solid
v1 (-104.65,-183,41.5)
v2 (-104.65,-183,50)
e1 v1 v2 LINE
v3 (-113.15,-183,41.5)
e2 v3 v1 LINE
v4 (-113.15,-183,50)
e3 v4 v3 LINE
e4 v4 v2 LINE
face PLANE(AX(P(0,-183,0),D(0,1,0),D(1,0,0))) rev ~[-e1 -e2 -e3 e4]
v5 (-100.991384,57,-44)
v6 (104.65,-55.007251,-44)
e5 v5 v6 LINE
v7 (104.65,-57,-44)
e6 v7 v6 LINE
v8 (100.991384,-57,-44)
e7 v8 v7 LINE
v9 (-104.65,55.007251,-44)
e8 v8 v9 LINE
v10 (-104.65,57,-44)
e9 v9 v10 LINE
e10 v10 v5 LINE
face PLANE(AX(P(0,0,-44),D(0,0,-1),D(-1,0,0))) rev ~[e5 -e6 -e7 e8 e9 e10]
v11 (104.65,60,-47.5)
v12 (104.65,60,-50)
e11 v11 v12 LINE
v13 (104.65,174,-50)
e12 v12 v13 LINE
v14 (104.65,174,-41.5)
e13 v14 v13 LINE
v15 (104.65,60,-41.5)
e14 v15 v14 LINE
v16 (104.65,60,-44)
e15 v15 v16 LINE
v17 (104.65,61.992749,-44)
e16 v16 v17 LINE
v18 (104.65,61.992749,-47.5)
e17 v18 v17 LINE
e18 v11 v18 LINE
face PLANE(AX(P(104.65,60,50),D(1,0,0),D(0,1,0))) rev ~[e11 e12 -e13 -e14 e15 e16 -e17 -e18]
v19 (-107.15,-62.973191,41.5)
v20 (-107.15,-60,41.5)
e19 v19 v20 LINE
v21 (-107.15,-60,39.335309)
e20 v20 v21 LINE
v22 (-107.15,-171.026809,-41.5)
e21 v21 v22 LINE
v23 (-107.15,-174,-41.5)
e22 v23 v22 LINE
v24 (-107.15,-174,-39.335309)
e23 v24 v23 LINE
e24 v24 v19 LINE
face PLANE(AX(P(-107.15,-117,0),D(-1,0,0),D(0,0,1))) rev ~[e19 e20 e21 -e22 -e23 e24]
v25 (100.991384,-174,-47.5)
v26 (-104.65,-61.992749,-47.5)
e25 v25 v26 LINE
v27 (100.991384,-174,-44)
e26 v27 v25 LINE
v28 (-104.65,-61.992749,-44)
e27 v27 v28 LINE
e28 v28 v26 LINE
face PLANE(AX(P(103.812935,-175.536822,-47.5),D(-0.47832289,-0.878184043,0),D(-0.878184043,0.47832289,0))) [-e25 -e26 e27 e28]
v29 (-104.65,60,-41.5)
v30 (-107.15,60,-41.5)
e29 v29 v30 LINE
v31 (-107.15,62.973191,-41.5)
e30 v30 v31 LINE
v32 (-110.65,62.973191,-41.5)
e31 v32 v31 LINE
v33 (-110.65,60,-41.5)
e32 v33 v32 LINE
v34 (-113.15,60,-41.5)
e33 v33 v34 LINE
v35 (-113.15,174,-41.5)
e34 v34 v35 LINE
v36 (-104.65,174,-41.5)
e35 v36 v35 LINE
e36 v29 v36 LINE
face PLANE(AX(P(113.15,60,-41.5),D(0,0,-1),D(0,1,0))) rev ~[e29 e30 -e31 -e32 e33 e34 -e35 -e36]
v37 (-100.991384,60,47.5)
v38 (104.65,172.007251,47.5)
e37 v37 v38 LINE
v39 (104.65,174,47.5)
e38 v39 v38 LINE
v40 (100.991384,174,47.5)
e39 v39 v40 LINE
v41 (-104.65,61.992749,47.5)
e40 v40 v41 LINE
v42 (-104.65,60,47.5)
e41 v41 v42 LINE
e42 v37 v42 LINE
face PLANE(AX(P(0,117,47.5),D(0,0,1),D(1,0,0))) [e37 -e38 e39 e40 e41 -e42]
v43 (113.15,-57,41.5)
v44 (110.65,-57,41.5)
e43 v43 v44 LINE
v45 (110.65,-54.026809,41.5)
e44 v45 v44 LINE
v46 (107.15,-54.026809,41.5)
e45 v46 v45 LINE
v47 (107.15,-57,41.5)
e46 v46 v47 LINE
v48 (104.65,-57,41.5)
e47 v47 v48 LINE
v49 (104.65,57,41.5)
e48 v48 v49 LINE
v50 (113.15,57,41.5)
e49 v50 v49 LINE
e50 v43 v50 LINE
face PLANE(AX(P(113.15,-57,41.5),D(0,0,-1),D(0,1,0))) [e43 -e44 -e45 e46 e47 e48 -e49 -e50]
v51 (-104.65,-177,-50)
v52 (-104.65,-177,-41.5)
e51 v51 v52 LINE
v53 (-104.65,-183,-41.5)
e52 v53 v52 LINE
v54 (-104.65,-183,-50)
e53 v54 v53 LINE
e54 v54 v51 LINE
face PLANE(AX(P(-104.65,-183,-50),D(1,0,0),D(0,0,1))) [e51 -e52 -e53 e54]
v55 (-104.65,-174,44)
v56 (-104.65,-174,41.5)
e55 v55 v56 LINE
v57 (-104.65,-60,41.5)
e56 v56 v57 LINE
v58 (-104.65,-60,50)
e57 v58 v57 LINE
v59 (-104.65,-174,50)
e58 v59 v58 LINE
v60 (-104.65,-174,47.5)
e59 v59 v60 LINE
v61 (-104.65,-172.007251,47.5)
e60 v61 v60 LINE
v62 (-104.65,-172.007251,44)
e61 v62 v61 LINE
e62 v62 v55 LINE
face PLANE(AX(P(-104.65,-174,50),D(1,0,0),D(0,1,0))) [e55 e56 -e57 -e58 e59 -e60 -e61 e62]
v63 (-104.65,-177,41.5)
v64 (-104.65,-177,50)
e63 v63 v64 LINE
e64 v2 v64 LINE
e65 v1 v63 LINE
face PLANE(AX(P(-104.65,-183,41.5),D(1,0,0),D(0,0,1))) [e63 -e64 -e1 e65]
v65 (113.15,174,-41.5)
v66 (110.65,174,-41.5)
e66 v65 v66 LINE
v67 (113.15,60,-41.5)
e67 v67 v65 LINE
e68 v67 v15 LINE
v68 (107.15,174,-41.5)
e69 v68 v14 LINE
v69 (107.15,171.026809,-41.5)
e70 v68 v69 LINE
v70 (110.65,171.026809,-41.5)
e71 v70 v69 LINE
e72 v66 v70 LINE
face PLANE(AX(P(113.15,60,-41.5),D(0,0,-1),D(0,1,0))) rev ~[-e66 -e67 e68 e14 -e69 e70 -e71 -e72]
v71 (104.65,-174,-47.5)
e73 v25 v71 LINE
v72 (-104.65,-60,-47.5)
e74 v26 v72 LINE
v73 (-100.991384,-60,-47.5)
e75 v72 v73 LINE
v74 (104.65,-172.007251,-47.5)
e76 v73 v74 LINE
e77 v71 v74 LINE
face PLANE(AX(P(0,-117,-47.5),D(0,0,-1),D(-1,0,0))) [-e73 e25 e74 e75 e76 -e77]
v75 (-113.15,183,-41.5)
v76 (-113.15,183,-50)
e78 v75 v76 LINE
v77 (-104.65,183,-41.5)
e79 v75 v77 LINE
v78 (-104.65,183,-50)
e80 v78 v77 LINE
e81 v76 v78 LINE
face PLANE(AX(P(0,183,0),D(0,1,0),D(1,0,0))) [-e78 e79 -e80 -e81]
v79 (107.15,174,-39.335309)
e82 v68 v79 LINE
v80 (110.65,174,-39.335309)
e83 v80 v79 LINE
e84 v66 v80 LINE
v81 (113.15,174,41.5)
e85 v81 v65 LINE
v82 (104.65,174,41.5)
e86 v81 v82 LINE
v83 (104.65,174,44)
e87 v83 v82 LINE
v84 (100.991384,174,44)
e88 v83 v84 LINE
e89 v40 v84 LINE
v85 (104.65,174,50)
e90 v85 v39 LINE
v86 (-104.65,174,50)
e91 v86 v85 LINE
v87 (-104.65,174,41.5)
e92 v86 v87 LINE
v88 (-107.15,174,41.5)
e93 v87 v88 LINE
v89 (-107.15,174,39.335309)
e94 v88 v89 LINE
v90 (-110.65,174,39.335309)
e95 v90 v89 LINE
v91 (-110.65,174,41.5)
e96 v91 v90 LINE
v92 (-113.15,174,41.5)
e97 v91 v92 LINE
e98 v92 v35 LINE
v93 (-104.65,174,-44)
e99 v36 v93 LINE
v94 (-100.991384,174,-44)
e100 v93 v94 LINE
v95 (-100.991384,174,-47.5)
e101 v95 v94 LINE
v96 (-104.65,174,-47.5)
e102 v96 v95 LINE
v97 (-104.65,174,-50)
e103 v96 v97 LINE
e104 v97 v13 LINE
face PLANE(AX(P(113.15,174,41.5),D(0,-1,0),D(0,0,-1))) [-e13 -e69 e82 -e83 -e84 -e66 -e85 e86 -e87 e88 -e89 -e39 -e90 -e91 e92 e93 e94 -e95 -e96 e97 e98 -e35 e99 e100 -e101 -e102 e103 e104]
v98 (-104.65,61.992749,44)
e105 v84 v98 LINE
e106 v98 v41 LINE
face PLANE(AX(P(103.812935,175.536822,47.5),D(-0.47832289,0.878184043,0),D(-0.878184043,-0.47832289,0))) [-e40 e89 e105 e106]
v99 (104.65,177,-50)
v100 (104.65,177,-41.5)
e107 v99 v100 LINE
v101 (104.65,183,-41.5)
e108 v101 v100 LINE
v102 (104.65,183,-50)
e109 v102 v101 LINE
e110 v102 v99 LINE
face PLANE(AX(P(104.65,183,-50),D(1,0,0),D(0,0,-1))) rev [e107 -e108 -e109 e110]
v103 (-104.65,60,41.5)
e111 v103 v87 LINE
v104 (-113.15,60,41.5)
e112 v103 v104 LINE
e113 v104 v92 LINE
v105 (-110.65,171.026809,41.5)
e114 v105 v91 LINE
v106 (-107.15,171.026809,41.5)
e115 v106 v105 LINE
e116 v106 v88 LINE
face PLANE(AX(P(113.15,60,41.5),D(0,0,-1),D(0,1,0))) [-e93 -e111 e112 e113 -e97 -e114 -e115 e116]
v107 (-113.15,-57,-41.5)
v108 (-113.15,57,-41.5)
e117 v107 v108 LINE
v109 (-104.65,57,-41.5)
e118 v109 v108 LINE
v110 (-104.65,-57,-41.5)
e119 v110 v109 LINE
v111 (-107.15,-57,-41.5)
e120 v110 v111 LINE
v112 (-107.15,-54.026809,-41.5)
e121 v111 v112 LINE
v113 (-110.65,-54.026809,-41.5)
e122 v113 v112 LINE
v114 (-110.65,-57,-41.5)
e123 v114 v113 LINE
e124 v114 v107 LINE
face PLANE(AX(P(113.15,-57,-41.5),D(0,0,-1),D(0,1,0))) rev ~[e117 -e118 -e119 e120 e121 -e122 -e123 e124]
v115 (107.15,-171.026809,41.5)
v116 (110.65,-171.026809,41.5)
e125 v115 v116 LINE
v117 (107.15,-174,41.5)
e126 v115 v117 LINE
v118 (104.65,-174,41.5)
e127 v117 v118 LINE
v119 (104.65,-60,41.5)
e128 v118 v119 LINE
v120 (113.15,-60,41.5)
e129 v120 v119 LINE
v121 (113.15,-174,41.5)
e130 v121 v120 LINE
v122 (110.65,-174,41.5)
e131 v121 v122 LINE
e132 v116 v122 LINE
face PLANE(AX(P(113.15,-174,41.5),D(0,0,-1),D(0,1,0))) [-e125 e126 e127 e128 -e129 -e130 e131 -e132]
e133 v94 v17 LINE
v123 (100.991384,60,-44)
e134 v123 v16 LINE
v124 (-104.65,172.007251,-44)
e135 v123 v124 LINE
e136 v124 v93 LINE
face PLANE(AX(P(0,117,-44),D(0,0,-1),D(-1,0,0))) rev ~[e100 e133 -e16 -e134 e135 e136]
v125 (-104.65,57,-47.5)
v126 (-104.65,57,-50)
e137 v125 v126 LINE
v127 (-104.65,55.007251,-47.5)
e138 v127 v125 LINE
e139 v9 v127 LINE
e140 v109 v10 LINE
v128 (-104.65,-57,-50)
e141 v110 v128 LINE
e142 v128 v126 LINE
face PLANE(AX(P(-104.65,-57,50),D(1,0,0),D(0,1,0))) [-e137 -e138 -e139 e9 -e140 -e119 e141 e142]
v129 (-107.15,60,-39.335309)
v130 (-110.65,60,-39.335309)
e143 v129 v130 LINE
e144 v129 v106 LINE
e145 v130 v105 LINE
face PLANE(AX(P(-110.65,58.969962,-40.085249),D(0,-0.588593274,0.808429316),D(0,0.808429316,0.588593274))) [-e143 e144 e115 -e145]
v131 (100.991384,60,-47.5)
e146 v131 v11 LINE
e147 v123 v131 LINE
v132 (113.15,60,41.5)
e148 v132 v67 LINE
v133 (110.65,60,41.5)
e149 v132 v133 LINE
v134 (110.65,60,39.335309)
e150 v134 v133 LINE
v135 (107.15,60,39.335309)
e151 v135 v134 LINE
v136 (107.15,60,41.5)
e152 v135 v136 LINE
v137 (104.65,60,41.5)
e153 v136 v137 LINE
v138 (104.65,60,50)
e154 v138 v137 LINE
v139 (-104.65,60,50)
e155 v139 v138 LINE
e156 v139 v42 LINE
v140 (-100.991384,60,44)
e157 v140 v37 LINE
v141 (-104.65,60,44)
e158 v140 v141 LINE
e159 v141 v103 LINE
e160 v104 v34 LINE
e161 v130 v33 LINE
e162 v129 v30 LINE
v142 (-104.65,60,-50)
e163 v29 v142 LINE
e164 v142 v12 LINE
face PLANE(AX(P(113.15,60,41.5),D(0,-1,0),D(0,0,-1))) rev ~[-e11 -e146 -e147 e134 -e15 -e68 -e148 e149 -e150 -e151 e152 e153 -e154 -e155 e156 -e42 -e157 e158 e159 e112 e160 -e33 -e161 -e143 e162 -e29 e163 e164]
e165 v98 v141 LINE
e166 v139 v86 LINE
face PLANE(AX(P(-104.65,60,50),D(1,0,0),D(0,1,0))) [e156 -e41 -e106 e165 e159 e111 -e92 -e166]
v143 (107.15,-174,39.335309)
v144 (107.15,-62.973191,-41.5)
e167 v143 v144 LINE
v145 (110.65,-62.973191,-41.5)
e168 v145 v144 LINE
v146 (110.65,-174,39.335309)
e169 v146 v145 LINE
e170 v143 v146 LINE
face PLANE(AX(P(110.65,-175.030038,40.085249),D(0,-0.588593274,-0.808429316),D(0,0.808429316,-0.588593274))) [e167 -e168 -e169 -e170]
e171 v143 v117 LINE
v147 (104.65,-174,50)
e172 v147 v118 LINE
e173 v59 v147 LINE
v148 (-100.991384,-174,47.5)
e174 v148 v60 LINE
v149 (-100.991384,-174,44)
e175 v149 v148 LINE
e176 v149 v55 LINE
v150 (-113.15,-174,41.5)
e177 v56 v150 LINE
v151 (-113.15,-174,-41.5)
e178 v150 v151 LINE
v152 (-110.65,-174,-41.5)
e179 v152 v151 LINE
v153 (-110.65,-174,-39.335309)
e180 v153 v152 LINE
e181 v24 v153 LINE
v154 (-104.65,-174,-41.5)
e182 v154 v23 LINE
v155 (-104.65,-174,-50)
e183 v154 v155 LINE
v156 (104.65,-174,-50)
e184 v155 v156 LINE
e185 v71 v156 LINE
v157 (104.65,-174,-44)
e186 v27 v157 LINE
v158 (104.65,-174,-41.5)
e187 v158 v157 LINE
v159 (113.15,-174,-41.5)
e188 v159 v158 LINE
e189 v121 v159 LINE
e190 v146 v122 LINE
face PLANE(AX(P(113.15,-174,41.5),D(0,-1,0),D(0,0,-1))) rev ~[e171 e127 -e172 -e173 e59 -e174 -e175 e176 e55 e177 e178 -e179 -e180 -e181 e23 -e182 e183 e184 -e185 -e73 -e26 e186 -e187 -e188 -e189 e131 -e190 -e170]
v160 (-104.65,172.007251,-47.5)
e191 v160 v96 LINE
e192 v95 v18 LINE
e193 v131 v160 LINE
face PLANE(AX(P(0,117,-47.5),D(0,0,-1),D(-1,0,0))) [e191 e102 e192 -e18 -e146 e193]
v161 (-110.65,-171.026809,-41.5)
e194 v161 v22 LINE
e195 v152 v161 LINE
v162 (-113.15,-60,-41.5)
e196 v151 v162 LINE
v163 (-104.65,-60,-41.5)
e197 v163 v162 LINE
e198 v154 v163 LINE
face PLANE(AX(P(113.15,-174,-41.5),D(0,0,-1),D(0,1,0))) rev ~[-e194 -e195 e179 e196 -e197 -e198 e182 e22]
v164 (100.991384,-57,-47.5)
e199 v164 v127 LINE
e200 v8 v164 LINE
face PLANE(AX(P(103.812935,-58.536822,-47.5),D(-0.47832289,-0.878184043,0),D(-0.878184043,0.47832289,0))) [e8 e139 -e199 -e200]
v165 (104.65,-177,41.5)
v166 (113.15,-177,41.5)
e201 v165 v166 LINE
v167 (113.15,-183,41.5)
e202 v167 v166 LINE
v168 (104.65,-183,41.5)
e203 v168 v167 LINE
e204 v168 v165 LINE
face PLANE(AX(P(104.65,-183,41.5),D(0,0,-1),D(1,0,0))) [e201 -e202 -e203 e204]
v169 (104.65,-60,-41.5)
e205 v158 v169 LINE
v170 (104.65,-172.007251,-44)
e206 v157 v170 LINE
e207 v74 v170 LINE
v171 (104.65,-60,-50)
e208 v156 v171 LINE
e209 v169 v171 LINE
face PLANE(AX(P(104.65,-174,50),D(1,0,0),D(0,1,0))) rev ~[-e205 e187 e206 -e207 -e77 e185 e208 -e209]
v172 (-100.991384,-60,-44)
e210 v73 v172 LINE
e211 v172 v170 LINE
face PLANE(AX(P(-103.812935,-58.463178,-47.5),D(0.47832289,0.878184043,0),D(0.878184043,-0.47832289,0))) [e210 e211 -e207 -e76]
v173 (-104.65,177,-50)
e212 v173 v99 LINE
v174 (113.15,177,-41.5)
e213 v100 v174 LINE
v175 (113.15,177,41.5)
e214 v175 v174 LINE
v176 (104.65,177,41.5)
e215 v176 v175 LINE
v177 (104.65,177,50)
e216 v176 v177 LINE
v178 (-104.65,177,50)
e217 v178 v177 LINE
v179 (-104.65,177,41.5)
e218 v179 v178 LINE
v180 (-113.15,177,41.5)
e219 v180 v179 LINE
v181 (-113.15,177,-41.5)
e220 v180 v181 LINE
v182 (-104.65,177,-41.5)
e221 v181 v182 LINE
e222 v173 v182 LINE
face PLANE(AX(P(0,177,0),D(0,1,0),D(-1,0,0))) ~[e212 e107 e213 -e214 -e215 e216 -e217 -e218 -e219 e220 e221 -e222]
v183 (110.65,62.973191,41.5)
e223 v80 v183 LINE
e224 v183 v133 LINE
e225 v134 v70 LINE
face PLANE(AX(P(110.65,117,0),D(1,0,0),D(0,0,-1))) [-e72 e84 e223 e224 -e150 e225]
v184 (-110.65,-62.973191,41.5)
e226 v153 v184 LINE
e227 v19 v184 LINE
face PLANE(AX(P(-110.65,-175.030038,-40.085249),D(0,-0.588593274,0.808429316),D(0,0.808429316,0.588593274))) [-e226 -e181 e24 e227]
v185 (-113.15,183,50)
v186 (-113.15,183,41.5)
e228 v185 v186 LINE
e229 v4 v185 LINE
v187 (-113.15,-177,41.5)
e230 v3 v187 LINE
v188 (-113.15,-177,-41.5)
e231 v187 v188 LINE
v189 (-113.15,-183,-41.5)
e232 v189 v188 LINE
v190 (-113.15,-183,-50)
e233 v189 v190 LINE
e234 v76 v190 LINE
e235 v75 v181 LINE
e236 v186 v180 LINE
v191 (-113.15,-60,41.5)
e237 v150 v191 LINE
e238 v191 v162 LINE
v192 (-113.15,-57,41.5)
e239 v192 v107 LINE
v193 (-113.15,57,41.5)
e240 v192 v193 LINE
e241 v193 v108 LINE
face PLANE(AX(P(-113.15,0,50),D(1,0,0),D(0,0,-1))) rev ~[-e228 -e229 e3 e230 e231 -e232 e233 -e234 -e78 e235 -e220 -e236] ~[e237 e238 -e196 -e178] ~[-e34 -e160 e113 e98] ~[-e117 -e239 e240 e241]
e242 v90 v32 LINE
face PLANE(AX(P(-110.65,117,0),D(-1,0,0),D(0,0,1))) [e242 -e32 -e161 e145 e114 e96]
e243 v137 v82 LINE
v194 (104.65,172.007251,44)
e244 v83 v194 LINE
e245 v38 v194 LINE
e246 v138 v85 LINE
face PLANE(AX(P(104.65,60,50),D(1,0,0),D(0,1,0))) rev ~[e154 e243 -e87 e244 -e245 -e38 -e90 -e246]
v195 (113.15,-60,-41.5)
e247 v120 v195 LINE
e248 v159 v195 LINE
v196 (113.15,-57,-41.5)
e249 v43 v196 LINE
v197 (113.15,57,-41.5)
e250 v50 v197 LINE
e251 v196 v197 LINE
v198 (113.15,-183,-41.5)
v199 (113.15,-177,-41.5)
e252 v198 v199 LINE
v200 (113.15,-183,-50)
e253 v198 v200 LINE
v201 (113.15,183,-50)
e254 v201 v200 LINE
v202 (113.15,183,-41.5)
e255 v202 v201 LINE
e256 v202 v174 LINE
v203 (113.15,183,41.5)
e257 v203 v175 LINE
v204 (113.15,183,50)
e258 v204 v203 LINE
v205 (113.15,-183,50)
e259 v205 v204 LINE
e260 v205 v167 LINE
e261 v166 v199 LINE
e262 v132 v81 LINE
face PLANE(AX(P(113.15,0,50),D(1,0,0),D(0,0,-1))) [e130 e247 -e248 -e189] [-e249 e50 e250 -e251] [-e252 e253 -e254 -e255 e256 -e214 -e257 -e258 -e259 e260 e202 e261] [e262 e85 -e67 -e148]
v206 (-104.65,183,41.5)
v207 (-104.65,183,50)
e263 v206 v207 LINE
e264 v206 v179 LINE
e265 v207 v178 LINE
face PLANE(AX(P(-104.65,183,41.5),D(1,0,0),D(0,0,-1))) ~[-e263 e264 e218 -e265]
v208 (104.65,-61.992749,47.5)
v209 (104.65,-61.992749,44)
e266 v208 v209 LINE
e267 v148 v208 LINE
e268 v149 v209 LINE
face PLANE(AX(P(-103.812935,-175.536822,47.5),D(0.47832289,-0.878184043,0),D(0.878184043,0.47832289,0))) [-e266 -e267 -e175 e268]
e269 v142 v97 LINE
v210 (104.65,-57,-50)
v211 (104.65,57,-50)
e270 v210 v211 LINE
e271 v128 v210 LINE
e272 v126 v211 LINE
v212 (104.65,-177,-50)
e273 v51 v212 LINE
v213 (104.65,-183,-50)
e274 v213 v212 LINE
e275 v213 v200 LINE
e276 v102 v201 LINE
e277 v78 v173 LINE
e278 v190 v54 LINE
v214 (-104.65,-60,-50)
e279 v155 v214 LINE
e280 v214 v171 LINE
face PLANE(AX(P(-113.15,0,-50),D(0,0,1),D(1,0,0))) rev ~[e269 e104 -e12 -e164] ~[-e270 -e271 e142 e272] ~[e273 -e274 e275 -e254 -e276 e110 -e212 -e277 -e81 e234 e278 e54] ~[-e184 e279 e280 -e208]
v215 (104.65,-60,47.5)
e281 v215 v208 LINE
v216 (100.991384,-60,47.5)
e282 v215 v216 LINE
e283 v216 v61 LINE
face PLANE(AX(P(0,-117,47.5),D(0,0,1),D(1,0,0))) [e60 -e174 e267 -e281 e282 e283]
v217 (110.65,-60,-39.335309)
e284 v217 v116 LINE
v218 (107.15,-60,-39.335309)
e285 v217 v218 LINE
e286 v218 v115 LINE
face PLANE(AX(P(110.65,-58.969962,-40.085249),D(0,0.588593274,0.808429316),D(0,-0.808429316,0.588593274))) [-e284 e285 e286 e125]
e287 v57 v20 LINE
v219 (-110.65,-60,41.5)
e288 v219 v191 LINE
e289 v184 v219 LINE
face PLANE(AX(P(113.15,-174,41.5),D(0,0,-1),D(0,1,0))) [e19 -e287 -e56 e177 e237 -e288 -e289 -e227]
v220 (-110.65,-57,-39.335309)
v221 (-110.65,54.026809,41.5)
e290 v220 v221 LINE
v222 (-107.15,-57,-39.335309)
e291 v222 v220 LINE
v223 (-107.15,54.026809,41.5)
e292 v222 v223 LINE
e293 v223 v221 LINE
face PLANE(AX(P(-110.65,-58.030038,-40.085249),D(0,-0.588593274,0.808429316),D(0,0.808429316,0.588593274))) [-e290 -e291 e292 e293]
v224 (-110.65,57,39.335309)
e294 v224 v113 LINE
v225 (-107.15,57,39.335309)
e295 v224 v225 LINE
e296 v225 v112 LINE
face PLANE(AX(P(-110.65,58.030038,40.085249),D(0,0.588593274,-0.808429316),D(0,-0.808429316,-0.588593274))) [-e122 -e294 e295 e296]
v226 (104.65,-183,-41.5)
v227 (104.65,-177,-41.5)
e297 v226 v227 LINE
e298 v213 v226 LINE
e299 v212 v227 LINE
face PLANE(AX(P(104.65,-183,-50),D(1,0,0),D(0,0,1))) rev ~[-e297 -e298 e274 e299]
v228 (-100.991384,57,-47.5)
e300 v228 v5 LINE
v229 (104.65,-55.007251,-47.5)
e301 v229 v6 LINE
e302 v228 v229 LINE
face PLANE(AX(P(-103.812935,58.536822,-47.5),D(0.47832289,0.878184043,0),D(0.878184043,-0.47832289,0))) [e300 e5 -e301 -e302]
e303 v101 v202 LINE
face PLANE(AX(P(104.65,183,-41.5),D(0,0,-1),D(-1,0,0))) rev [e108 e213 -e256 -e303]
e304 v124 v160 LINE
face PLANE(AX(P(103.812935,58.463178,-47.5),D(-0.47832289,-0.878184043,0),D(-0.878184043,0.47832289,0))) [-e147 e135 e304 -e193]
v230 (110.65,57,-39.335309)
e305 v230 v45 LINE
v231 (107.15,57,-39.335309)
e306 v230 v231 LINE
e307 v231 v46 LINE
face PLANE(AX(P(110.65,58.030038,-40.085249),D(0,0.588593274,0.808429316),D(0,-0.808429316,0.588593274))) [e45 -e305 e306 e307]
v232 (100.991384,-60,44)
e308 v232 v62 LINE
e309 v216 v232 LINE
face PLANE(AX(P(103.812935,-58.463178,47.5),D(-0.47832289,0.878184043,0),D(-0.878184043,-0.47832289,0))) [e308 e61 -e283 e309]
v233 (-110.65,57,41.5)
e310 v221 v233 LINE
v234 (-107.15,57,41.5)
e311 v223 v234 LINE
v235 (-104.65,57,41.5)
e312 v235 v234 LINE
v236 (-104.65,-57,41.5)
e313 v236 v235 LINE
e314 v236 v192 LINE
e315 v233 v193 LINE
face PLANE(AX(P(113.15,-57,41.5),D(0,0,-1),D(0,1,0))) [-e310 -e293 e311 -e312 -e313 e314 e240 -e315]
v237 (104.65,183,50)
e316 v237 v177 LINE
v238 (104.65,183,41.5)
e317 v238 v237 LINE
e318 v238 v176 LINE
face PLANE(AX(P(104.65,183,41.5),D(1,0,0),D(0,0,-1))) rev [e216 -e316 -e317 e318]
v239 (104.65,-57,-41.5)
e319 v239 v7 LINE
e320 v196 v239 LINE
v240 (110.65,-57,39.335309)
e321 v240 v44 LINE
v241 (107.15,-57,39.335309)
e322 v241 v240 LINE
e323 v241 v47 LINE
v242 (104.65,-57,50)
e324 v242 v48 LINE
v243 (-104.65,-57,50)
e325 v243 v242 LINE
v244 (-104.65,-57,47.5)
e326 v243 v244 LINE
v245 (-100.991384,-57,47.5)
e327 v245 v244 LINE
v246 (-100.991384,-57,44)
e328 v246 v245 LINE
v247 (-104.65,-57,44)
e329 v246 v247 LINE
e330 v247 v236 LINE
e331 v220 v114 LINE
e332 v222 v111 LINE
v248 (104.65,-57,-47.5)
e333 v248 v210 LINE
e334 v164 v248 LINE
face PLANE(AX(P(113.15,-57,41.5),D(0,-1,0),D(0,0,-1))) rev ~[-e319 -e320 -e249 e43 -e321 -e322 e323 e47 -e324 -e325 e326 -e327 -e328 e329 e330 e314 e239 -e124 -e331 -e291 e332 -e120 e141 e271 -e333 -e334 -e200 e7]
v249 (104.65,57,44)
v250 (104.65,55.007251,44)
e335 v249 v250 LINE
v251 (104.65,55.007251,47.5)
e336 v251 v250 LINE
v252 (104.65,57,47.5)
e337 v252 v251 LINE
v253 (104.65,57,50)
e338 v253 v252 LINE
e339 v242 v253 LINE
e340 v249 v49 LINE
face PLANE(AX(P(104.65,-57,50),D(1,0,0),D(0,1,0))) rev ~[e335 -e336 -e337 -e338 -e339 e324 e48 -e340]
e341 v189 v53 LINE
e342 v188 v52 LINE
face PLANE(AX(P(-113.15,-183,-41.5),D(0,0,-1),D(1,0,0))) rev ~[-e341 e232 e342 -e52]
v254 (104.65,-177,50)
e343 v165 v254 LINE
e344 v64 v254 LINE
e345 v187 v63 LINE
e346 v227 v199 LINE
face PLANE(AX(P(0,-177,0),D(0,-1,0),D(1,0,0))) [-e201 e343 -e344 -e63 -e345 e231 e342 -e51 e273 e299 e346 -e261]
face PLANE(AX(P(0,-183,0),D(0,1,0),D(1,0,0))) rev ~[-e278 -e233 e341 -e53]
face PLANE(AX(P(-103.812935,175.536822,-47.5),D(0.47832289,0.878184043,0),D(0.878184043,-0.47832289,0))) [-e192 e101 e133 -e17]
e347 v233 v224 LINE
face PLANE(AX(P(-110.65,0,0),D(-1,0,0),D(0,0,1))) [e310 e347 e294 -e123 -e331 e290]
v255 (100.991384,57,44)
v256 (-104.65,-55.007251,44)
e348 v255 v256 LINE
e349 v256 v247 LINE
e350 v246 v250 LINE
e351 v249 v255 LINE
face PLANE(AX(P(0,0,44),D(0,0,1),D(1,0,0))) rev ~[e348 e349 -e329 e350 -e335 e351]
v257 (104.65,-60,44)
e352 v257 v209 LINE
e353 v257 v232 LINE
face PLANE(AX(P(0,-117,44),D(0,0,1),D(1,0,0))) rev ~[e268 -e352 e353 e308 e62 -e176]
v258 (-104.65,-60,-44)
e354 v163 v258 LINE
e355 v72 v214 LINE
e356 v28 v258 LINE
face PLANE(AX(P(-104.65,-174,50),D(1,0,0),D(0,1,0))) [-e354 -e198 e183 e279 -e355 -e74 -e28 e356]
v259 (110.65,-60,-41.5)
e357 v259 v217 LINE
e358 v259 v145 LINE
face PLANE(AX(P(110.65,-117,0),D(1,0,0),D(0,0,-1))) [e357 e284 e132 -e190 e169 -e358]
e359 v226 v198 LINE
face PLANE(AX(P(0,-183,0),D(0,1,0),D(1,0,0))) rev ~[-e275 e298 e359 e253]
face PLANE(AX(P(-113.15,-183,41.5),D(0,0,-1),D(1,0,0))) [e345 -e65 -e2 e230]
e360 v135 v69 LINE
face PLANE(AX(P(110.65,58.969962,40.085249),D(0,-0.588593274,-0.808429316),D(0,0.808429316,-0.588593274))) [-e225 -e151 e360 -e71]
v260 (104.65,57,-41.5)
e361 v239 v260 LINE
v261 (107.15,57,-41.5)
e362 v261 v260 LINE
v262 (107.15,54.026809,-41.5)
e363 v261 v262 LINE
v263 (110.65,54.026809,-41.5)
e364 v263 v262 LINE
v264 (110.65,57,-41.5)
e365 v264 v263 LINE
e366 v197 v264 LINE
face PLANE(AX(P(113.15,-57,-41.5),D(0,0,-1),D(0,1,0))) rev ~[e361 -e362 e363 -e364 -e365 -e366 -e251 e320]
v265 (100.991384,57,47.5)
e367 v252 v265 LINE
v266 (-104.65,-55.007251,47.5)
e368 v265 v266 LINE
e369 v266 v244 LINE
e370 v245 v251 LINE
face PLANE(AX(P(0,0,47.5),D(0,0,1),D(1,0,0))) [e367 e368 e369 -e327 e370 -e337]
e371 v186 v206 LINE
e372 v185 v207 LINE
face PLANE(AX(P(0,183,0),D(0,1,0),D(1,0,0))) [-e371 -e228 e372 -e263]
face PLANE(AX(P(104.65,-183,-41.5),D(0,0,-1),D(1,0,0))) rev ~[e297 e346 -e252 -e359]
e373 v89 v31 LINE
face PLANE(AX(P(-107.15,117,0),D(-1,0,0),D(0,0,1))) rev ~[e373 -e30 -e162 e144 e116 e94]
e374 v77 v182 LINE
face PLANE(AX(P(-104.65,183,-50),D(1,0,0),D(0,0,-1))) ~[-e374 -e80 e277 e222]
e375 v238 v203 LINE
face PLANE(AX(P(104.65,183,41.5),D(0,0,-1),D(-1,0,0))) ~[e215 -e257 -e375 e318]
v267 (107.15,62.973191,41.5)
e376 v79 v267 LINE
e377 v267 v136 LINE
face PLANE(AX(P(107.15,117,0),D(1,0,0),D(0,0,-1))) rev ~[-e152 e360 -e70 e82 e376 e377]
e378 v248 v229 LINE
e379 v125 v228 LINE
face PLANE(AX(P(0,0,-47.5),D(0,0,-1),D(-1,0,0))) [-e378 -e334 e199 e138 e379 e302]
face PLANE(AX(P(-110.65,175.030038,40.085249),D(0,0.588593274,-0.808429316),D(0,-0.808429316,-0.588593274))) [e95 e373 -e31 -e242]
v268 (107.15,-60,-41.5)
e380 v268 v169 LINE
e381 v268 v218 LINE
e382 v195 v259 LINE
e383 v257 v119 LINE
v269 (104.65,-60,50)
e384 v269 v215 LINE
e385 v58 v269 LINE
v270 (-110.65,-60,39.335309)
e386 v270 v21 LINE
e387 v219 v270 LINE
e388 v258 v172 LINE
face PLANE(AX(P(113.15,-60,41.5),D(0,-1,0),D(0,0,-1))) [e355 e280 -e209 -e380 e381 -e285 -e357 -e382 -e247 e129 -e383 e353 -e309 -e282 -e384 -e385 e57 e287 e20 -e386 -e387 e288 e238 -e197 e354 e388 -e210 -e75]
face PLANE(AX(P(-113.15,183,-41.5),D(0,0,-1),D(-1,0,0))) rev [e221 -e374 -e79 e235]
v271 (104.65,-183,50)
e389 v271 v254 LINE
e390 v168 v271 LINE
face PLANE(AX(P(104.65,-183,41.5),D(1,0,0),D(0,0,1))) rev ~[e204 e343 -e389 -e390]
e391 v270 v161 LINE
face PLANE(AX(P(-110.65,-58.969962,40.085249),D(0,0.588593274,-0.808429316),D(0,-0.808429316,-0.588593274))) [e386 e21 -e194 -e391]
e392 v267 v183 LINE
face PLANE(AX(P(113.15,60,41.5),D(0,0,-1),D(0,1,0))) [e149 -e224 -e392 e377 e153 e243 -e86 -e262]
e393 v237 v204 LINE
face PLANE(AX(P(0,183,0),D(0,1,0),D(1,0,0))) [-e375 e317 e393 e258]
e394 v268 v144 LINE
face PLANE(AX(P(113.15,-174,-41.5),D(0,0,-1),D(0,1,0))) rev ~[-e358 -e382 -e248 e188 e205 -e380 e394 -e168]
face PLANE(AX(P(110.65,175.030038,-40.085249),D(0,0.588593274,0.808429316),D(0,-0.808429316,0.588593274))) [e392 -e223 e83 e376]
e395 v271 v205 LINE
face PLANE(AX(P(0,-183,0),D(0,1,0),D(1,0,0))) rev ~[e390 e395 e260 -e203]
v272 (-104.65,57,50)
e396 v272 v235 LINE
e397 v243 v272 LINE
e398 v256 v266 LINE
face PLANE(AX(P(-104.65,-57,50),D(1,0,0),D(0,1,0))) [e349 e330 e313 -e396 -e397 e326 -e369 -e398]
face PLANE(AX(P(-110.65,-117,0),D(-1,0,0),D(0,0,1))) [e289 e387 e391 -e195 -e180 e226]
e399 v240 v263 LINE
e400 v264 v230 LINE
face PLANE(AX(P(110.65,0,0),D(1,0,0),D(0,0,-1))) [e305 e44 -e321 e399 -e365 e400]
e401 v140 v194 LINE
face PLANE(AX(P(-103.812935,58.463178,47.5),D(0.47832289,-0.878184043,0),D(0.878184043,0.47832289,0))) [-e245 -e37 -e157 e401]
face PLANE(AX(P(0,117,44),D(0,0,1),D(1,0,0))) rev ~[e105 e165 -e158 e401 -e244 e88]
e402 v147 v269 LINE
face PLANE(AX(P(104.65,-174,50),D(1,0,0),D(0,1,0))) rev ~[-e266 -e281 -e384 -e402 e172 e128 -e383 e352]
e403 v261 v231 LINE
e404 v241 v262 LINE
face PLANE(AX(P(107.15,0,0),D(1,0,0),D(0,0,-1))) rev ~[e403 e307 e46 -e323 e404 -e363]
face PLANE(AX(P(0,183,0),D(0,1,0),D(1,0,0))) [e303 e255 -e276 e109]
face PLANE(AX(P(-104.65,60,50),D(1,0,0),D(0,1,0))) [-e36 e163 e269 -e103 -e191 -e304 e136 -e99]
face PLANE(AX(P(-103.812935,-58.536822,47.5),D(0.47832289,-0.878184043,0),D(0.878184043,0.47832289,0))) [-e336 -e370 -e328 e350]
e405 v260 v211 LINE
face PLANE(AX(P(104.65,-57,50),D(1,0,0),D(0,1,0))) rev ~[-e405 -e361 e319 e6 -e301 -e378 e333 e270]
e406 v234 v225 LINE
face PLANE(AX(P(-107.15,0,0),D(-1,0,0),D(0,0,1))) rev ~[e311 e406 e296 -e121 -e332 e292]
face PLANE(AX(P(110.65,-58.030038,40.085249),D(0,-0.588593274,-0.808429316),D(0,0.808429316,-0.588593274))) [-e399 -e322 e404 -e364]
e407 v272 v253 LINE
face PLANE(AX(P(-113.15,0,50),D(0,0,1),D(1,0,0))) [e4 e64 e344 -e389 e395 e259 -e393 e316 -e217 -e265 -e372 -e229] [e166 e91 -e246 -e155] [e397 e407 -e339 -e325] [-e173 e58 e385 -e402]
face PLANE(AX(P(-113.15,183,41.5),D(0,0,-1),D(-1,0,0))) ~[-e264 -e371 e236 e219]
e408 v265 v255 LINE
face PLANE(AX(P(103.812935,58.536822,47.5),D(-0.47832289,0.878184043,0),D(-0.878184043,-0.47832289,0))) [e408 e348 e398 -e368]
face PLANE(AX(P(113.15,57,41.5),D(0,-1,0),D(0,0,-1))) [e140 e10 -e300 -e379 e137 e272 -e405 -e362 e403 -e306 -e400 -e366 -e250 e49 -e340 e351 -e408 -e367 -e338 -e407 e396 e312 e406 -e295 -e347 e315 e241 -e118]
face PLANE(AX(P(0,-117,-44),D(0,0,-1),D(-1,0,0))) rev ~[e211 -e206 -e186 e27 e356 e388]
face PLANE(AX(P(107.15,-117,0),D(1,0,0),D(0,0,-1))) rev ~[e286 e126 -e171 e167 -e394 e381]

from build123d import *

# Parameters (mm, degrees)
SKETCH2_W           = 226.3
SKETCH2_H           = 100
BOSS_EXTRUDE1_DEPTH = 183
SKETCH4_OUTSIDE_W   = 316.656
SKETCH4_OUTSIDE_H   = 190.356
SKETCH4_OUTSIDE_W_2 = 8.5
SKETCH4_OUTSIDE_H_2 = 8.5
CUT_EXTRUDE1_DEPTH  = 6
SKETCH5_W           = 209.3
SKETCH5_H           = 114
CUT_EXTRUDE2_DEPTH  = 238.259188442
SKETCH6_W           = 83
SKETCH6_H           = 114
CUT_EXTRUDE3_DEPTH  = 296.29762952
EXTRUDE_THIN1_START = -2.5
EXTRUDE_THIN1_DEPTH = 3.5
EXTRUDE_THIN2_START = -2.5
EXTRUDE_THIN2_DEPTH = 3.5
CIRPATTERN1_COUNT   = 2


with BuildPart() as part:
    # Sketch2 → Boss-Extrude1 (new, symmetric)
    with BuildSketch(Plane(origin=(0, 0, 0), x_dir=(1, 0, 0), z_dir=(0, 1, 0))):
        Rectangle(SKETCH2_W, SKETCH2_H)
    extrude(amount=BOSS_EXTRUDE1_DEPTH, both=True)

    # Sketch4 outside → Cut-Extrude1 (cut)
    with BuildSketch(Plane.XZ.offset(183)):
        Rectangle(SKETCH4_OUTSIDE_W, SKETCH4_OUTSIDE_H)
        with Locations((-108.9, 45.75)):
            Rectangle(SKETCH4_OUTSIDE_W_2, SKETCH4_OUTSIDE_H_2, mode=Mode.SUBTRACT)
        with Locations((-108.9, -45.75)):
            Rectangle(SKETCH4_OUTSIDE_W_2, SKETCH4_OUTSIDE_H_2, mode=Mode.SUBTRACT)
        with Locations((108.9, -45.75)):
            Rectangle(SKETCH4_OUTSIDE_W_2, SKETCH4_OUTSIDE_H_2, mode=Mode.SUBTRACT)
        with Locations((108.9, 45.75)):
            Rectangle(SKETCH4_OUTSIDE_W_2, SKETCH4_OUTSIDE_H_2, mode=Mode.SUBTRACT)
    cut_extrude1 = extrude(amount=-CUT_EXTRUDE1_DEPTH, mode=Mode.SUBTRACT)

    # Mirror1: Cut-Extrude1 across plane
    add(cut_extrude1.mirror(Plane.ZX), mode=Mode.SUBTRACT)

    # Sketch5 → Cut-Extrude2 (cut, through all)
    with BuildSketch(Plane.XY.offset(50)):
        with Locations((0, 117)):
            Rectangle(SKETCH5_W, SKETCH5_H)
        with Locations((0, -117)):
            Rectangle(SKETCH5_W, SKETCH5_H)
        Rectangle(SKETCH5_W, SKETCH5_H)
    extrude(amount=-CUT_EXTRUDE2_DEPTH, mode=Mode.SUBTRACT)

    # Sketch6 → Cut-Extrude3 (cut, through all)
    with BuildSketch(Plane(origin=(113.15, 0, 0), x_dir=(0, 0, -1), z_dir=(1, 0, 0))):
        with Locations((0, 117)):
            Rectangle(SKETCH6_W, SKETCH6_H)
        with Locations((0, -117)):
            Rectangle(SKETCH6_W, SKETCH6_H)
        Rectangle(SKETCH6_W, SKETCH6_H)
    extrude(amount=-CUT_EXTRUDE3_DEPTH, mode=Mode.SUBTRACT)

    # Sketch7 → Extrude-Thin1 (add)
    with BuildSketch(Plane.XY.offset(50).offset(EXTRUDE_THIN1_START)):
        Polygon((-103.812934943, -175.536822075), (105.487065057, -61.536822075), (103.812934943, -58.463177925), (-105.487065057, -172.463177925), align=None)
        Polygon((-103.812934943, -58.536822075), (105.487065057, 55.463177925), (103.812934943, 58.536822075), (-105.487065057, -55.463177925), align=None)
        Polygon((-103.812934943, 58.463177925), (105.487065057, 172.463177925), (103.812934943, 175.536822075), (-105.487065057, 61.536822075), align=None)
    extrude_thin1 = extrude(amount=-EXTRUDE_THIN1_DEPTH)

    # Sketch8 → Extrude-Thin2 (add)
    with BuildSketch(Plane(origin=(113.15, 0, 0), x_dir=(0, 0, -1), z_dir=(1, 0, 0)).offset(EXTRUDE_THIN2_START)):
        Polygon((-40.085248698, -175.030038229), (42.914751302, -61.030038229), (40.085248698, -58.969961771), (-42.914751302, -172.969961771), align=None)
        Polygon((-40.085248698, -58.030038229), (42.914751302, 55.969961771), (40.085248698, 58.030038229), (-42.914751302, -55.969961771), align=None)
        Polygon((-40.085248698, 58.969961771), (42.914751302, 172.969961771), (40.085248698, 175.030038229), (-42.914751302, 61.030038229), align=None)
    extrude_thin2 = extrude(amount=-EXTRUDE_THIN2_DEPTH)

    # CirPattern1: Extrude-Thin1, Extrude-Thin2 ×2 about axis
    cirpattern1_axis = Axis((0, -201.3, 0), (0, 1, 0))
    add([extrude_thin1.rotate(cirpattern1_axis, i * 360 / CIRPATTERN1_COUNT) for i in range(1, CIRPATTERN1_COUNT)])
    add([extrude_thin2.rotate(cirpattern1_axis, i * 360 / CIRPATTERN1_COUNT) for i in range(1, CIRPATTERN1_COUNT)])


solid = part.part
